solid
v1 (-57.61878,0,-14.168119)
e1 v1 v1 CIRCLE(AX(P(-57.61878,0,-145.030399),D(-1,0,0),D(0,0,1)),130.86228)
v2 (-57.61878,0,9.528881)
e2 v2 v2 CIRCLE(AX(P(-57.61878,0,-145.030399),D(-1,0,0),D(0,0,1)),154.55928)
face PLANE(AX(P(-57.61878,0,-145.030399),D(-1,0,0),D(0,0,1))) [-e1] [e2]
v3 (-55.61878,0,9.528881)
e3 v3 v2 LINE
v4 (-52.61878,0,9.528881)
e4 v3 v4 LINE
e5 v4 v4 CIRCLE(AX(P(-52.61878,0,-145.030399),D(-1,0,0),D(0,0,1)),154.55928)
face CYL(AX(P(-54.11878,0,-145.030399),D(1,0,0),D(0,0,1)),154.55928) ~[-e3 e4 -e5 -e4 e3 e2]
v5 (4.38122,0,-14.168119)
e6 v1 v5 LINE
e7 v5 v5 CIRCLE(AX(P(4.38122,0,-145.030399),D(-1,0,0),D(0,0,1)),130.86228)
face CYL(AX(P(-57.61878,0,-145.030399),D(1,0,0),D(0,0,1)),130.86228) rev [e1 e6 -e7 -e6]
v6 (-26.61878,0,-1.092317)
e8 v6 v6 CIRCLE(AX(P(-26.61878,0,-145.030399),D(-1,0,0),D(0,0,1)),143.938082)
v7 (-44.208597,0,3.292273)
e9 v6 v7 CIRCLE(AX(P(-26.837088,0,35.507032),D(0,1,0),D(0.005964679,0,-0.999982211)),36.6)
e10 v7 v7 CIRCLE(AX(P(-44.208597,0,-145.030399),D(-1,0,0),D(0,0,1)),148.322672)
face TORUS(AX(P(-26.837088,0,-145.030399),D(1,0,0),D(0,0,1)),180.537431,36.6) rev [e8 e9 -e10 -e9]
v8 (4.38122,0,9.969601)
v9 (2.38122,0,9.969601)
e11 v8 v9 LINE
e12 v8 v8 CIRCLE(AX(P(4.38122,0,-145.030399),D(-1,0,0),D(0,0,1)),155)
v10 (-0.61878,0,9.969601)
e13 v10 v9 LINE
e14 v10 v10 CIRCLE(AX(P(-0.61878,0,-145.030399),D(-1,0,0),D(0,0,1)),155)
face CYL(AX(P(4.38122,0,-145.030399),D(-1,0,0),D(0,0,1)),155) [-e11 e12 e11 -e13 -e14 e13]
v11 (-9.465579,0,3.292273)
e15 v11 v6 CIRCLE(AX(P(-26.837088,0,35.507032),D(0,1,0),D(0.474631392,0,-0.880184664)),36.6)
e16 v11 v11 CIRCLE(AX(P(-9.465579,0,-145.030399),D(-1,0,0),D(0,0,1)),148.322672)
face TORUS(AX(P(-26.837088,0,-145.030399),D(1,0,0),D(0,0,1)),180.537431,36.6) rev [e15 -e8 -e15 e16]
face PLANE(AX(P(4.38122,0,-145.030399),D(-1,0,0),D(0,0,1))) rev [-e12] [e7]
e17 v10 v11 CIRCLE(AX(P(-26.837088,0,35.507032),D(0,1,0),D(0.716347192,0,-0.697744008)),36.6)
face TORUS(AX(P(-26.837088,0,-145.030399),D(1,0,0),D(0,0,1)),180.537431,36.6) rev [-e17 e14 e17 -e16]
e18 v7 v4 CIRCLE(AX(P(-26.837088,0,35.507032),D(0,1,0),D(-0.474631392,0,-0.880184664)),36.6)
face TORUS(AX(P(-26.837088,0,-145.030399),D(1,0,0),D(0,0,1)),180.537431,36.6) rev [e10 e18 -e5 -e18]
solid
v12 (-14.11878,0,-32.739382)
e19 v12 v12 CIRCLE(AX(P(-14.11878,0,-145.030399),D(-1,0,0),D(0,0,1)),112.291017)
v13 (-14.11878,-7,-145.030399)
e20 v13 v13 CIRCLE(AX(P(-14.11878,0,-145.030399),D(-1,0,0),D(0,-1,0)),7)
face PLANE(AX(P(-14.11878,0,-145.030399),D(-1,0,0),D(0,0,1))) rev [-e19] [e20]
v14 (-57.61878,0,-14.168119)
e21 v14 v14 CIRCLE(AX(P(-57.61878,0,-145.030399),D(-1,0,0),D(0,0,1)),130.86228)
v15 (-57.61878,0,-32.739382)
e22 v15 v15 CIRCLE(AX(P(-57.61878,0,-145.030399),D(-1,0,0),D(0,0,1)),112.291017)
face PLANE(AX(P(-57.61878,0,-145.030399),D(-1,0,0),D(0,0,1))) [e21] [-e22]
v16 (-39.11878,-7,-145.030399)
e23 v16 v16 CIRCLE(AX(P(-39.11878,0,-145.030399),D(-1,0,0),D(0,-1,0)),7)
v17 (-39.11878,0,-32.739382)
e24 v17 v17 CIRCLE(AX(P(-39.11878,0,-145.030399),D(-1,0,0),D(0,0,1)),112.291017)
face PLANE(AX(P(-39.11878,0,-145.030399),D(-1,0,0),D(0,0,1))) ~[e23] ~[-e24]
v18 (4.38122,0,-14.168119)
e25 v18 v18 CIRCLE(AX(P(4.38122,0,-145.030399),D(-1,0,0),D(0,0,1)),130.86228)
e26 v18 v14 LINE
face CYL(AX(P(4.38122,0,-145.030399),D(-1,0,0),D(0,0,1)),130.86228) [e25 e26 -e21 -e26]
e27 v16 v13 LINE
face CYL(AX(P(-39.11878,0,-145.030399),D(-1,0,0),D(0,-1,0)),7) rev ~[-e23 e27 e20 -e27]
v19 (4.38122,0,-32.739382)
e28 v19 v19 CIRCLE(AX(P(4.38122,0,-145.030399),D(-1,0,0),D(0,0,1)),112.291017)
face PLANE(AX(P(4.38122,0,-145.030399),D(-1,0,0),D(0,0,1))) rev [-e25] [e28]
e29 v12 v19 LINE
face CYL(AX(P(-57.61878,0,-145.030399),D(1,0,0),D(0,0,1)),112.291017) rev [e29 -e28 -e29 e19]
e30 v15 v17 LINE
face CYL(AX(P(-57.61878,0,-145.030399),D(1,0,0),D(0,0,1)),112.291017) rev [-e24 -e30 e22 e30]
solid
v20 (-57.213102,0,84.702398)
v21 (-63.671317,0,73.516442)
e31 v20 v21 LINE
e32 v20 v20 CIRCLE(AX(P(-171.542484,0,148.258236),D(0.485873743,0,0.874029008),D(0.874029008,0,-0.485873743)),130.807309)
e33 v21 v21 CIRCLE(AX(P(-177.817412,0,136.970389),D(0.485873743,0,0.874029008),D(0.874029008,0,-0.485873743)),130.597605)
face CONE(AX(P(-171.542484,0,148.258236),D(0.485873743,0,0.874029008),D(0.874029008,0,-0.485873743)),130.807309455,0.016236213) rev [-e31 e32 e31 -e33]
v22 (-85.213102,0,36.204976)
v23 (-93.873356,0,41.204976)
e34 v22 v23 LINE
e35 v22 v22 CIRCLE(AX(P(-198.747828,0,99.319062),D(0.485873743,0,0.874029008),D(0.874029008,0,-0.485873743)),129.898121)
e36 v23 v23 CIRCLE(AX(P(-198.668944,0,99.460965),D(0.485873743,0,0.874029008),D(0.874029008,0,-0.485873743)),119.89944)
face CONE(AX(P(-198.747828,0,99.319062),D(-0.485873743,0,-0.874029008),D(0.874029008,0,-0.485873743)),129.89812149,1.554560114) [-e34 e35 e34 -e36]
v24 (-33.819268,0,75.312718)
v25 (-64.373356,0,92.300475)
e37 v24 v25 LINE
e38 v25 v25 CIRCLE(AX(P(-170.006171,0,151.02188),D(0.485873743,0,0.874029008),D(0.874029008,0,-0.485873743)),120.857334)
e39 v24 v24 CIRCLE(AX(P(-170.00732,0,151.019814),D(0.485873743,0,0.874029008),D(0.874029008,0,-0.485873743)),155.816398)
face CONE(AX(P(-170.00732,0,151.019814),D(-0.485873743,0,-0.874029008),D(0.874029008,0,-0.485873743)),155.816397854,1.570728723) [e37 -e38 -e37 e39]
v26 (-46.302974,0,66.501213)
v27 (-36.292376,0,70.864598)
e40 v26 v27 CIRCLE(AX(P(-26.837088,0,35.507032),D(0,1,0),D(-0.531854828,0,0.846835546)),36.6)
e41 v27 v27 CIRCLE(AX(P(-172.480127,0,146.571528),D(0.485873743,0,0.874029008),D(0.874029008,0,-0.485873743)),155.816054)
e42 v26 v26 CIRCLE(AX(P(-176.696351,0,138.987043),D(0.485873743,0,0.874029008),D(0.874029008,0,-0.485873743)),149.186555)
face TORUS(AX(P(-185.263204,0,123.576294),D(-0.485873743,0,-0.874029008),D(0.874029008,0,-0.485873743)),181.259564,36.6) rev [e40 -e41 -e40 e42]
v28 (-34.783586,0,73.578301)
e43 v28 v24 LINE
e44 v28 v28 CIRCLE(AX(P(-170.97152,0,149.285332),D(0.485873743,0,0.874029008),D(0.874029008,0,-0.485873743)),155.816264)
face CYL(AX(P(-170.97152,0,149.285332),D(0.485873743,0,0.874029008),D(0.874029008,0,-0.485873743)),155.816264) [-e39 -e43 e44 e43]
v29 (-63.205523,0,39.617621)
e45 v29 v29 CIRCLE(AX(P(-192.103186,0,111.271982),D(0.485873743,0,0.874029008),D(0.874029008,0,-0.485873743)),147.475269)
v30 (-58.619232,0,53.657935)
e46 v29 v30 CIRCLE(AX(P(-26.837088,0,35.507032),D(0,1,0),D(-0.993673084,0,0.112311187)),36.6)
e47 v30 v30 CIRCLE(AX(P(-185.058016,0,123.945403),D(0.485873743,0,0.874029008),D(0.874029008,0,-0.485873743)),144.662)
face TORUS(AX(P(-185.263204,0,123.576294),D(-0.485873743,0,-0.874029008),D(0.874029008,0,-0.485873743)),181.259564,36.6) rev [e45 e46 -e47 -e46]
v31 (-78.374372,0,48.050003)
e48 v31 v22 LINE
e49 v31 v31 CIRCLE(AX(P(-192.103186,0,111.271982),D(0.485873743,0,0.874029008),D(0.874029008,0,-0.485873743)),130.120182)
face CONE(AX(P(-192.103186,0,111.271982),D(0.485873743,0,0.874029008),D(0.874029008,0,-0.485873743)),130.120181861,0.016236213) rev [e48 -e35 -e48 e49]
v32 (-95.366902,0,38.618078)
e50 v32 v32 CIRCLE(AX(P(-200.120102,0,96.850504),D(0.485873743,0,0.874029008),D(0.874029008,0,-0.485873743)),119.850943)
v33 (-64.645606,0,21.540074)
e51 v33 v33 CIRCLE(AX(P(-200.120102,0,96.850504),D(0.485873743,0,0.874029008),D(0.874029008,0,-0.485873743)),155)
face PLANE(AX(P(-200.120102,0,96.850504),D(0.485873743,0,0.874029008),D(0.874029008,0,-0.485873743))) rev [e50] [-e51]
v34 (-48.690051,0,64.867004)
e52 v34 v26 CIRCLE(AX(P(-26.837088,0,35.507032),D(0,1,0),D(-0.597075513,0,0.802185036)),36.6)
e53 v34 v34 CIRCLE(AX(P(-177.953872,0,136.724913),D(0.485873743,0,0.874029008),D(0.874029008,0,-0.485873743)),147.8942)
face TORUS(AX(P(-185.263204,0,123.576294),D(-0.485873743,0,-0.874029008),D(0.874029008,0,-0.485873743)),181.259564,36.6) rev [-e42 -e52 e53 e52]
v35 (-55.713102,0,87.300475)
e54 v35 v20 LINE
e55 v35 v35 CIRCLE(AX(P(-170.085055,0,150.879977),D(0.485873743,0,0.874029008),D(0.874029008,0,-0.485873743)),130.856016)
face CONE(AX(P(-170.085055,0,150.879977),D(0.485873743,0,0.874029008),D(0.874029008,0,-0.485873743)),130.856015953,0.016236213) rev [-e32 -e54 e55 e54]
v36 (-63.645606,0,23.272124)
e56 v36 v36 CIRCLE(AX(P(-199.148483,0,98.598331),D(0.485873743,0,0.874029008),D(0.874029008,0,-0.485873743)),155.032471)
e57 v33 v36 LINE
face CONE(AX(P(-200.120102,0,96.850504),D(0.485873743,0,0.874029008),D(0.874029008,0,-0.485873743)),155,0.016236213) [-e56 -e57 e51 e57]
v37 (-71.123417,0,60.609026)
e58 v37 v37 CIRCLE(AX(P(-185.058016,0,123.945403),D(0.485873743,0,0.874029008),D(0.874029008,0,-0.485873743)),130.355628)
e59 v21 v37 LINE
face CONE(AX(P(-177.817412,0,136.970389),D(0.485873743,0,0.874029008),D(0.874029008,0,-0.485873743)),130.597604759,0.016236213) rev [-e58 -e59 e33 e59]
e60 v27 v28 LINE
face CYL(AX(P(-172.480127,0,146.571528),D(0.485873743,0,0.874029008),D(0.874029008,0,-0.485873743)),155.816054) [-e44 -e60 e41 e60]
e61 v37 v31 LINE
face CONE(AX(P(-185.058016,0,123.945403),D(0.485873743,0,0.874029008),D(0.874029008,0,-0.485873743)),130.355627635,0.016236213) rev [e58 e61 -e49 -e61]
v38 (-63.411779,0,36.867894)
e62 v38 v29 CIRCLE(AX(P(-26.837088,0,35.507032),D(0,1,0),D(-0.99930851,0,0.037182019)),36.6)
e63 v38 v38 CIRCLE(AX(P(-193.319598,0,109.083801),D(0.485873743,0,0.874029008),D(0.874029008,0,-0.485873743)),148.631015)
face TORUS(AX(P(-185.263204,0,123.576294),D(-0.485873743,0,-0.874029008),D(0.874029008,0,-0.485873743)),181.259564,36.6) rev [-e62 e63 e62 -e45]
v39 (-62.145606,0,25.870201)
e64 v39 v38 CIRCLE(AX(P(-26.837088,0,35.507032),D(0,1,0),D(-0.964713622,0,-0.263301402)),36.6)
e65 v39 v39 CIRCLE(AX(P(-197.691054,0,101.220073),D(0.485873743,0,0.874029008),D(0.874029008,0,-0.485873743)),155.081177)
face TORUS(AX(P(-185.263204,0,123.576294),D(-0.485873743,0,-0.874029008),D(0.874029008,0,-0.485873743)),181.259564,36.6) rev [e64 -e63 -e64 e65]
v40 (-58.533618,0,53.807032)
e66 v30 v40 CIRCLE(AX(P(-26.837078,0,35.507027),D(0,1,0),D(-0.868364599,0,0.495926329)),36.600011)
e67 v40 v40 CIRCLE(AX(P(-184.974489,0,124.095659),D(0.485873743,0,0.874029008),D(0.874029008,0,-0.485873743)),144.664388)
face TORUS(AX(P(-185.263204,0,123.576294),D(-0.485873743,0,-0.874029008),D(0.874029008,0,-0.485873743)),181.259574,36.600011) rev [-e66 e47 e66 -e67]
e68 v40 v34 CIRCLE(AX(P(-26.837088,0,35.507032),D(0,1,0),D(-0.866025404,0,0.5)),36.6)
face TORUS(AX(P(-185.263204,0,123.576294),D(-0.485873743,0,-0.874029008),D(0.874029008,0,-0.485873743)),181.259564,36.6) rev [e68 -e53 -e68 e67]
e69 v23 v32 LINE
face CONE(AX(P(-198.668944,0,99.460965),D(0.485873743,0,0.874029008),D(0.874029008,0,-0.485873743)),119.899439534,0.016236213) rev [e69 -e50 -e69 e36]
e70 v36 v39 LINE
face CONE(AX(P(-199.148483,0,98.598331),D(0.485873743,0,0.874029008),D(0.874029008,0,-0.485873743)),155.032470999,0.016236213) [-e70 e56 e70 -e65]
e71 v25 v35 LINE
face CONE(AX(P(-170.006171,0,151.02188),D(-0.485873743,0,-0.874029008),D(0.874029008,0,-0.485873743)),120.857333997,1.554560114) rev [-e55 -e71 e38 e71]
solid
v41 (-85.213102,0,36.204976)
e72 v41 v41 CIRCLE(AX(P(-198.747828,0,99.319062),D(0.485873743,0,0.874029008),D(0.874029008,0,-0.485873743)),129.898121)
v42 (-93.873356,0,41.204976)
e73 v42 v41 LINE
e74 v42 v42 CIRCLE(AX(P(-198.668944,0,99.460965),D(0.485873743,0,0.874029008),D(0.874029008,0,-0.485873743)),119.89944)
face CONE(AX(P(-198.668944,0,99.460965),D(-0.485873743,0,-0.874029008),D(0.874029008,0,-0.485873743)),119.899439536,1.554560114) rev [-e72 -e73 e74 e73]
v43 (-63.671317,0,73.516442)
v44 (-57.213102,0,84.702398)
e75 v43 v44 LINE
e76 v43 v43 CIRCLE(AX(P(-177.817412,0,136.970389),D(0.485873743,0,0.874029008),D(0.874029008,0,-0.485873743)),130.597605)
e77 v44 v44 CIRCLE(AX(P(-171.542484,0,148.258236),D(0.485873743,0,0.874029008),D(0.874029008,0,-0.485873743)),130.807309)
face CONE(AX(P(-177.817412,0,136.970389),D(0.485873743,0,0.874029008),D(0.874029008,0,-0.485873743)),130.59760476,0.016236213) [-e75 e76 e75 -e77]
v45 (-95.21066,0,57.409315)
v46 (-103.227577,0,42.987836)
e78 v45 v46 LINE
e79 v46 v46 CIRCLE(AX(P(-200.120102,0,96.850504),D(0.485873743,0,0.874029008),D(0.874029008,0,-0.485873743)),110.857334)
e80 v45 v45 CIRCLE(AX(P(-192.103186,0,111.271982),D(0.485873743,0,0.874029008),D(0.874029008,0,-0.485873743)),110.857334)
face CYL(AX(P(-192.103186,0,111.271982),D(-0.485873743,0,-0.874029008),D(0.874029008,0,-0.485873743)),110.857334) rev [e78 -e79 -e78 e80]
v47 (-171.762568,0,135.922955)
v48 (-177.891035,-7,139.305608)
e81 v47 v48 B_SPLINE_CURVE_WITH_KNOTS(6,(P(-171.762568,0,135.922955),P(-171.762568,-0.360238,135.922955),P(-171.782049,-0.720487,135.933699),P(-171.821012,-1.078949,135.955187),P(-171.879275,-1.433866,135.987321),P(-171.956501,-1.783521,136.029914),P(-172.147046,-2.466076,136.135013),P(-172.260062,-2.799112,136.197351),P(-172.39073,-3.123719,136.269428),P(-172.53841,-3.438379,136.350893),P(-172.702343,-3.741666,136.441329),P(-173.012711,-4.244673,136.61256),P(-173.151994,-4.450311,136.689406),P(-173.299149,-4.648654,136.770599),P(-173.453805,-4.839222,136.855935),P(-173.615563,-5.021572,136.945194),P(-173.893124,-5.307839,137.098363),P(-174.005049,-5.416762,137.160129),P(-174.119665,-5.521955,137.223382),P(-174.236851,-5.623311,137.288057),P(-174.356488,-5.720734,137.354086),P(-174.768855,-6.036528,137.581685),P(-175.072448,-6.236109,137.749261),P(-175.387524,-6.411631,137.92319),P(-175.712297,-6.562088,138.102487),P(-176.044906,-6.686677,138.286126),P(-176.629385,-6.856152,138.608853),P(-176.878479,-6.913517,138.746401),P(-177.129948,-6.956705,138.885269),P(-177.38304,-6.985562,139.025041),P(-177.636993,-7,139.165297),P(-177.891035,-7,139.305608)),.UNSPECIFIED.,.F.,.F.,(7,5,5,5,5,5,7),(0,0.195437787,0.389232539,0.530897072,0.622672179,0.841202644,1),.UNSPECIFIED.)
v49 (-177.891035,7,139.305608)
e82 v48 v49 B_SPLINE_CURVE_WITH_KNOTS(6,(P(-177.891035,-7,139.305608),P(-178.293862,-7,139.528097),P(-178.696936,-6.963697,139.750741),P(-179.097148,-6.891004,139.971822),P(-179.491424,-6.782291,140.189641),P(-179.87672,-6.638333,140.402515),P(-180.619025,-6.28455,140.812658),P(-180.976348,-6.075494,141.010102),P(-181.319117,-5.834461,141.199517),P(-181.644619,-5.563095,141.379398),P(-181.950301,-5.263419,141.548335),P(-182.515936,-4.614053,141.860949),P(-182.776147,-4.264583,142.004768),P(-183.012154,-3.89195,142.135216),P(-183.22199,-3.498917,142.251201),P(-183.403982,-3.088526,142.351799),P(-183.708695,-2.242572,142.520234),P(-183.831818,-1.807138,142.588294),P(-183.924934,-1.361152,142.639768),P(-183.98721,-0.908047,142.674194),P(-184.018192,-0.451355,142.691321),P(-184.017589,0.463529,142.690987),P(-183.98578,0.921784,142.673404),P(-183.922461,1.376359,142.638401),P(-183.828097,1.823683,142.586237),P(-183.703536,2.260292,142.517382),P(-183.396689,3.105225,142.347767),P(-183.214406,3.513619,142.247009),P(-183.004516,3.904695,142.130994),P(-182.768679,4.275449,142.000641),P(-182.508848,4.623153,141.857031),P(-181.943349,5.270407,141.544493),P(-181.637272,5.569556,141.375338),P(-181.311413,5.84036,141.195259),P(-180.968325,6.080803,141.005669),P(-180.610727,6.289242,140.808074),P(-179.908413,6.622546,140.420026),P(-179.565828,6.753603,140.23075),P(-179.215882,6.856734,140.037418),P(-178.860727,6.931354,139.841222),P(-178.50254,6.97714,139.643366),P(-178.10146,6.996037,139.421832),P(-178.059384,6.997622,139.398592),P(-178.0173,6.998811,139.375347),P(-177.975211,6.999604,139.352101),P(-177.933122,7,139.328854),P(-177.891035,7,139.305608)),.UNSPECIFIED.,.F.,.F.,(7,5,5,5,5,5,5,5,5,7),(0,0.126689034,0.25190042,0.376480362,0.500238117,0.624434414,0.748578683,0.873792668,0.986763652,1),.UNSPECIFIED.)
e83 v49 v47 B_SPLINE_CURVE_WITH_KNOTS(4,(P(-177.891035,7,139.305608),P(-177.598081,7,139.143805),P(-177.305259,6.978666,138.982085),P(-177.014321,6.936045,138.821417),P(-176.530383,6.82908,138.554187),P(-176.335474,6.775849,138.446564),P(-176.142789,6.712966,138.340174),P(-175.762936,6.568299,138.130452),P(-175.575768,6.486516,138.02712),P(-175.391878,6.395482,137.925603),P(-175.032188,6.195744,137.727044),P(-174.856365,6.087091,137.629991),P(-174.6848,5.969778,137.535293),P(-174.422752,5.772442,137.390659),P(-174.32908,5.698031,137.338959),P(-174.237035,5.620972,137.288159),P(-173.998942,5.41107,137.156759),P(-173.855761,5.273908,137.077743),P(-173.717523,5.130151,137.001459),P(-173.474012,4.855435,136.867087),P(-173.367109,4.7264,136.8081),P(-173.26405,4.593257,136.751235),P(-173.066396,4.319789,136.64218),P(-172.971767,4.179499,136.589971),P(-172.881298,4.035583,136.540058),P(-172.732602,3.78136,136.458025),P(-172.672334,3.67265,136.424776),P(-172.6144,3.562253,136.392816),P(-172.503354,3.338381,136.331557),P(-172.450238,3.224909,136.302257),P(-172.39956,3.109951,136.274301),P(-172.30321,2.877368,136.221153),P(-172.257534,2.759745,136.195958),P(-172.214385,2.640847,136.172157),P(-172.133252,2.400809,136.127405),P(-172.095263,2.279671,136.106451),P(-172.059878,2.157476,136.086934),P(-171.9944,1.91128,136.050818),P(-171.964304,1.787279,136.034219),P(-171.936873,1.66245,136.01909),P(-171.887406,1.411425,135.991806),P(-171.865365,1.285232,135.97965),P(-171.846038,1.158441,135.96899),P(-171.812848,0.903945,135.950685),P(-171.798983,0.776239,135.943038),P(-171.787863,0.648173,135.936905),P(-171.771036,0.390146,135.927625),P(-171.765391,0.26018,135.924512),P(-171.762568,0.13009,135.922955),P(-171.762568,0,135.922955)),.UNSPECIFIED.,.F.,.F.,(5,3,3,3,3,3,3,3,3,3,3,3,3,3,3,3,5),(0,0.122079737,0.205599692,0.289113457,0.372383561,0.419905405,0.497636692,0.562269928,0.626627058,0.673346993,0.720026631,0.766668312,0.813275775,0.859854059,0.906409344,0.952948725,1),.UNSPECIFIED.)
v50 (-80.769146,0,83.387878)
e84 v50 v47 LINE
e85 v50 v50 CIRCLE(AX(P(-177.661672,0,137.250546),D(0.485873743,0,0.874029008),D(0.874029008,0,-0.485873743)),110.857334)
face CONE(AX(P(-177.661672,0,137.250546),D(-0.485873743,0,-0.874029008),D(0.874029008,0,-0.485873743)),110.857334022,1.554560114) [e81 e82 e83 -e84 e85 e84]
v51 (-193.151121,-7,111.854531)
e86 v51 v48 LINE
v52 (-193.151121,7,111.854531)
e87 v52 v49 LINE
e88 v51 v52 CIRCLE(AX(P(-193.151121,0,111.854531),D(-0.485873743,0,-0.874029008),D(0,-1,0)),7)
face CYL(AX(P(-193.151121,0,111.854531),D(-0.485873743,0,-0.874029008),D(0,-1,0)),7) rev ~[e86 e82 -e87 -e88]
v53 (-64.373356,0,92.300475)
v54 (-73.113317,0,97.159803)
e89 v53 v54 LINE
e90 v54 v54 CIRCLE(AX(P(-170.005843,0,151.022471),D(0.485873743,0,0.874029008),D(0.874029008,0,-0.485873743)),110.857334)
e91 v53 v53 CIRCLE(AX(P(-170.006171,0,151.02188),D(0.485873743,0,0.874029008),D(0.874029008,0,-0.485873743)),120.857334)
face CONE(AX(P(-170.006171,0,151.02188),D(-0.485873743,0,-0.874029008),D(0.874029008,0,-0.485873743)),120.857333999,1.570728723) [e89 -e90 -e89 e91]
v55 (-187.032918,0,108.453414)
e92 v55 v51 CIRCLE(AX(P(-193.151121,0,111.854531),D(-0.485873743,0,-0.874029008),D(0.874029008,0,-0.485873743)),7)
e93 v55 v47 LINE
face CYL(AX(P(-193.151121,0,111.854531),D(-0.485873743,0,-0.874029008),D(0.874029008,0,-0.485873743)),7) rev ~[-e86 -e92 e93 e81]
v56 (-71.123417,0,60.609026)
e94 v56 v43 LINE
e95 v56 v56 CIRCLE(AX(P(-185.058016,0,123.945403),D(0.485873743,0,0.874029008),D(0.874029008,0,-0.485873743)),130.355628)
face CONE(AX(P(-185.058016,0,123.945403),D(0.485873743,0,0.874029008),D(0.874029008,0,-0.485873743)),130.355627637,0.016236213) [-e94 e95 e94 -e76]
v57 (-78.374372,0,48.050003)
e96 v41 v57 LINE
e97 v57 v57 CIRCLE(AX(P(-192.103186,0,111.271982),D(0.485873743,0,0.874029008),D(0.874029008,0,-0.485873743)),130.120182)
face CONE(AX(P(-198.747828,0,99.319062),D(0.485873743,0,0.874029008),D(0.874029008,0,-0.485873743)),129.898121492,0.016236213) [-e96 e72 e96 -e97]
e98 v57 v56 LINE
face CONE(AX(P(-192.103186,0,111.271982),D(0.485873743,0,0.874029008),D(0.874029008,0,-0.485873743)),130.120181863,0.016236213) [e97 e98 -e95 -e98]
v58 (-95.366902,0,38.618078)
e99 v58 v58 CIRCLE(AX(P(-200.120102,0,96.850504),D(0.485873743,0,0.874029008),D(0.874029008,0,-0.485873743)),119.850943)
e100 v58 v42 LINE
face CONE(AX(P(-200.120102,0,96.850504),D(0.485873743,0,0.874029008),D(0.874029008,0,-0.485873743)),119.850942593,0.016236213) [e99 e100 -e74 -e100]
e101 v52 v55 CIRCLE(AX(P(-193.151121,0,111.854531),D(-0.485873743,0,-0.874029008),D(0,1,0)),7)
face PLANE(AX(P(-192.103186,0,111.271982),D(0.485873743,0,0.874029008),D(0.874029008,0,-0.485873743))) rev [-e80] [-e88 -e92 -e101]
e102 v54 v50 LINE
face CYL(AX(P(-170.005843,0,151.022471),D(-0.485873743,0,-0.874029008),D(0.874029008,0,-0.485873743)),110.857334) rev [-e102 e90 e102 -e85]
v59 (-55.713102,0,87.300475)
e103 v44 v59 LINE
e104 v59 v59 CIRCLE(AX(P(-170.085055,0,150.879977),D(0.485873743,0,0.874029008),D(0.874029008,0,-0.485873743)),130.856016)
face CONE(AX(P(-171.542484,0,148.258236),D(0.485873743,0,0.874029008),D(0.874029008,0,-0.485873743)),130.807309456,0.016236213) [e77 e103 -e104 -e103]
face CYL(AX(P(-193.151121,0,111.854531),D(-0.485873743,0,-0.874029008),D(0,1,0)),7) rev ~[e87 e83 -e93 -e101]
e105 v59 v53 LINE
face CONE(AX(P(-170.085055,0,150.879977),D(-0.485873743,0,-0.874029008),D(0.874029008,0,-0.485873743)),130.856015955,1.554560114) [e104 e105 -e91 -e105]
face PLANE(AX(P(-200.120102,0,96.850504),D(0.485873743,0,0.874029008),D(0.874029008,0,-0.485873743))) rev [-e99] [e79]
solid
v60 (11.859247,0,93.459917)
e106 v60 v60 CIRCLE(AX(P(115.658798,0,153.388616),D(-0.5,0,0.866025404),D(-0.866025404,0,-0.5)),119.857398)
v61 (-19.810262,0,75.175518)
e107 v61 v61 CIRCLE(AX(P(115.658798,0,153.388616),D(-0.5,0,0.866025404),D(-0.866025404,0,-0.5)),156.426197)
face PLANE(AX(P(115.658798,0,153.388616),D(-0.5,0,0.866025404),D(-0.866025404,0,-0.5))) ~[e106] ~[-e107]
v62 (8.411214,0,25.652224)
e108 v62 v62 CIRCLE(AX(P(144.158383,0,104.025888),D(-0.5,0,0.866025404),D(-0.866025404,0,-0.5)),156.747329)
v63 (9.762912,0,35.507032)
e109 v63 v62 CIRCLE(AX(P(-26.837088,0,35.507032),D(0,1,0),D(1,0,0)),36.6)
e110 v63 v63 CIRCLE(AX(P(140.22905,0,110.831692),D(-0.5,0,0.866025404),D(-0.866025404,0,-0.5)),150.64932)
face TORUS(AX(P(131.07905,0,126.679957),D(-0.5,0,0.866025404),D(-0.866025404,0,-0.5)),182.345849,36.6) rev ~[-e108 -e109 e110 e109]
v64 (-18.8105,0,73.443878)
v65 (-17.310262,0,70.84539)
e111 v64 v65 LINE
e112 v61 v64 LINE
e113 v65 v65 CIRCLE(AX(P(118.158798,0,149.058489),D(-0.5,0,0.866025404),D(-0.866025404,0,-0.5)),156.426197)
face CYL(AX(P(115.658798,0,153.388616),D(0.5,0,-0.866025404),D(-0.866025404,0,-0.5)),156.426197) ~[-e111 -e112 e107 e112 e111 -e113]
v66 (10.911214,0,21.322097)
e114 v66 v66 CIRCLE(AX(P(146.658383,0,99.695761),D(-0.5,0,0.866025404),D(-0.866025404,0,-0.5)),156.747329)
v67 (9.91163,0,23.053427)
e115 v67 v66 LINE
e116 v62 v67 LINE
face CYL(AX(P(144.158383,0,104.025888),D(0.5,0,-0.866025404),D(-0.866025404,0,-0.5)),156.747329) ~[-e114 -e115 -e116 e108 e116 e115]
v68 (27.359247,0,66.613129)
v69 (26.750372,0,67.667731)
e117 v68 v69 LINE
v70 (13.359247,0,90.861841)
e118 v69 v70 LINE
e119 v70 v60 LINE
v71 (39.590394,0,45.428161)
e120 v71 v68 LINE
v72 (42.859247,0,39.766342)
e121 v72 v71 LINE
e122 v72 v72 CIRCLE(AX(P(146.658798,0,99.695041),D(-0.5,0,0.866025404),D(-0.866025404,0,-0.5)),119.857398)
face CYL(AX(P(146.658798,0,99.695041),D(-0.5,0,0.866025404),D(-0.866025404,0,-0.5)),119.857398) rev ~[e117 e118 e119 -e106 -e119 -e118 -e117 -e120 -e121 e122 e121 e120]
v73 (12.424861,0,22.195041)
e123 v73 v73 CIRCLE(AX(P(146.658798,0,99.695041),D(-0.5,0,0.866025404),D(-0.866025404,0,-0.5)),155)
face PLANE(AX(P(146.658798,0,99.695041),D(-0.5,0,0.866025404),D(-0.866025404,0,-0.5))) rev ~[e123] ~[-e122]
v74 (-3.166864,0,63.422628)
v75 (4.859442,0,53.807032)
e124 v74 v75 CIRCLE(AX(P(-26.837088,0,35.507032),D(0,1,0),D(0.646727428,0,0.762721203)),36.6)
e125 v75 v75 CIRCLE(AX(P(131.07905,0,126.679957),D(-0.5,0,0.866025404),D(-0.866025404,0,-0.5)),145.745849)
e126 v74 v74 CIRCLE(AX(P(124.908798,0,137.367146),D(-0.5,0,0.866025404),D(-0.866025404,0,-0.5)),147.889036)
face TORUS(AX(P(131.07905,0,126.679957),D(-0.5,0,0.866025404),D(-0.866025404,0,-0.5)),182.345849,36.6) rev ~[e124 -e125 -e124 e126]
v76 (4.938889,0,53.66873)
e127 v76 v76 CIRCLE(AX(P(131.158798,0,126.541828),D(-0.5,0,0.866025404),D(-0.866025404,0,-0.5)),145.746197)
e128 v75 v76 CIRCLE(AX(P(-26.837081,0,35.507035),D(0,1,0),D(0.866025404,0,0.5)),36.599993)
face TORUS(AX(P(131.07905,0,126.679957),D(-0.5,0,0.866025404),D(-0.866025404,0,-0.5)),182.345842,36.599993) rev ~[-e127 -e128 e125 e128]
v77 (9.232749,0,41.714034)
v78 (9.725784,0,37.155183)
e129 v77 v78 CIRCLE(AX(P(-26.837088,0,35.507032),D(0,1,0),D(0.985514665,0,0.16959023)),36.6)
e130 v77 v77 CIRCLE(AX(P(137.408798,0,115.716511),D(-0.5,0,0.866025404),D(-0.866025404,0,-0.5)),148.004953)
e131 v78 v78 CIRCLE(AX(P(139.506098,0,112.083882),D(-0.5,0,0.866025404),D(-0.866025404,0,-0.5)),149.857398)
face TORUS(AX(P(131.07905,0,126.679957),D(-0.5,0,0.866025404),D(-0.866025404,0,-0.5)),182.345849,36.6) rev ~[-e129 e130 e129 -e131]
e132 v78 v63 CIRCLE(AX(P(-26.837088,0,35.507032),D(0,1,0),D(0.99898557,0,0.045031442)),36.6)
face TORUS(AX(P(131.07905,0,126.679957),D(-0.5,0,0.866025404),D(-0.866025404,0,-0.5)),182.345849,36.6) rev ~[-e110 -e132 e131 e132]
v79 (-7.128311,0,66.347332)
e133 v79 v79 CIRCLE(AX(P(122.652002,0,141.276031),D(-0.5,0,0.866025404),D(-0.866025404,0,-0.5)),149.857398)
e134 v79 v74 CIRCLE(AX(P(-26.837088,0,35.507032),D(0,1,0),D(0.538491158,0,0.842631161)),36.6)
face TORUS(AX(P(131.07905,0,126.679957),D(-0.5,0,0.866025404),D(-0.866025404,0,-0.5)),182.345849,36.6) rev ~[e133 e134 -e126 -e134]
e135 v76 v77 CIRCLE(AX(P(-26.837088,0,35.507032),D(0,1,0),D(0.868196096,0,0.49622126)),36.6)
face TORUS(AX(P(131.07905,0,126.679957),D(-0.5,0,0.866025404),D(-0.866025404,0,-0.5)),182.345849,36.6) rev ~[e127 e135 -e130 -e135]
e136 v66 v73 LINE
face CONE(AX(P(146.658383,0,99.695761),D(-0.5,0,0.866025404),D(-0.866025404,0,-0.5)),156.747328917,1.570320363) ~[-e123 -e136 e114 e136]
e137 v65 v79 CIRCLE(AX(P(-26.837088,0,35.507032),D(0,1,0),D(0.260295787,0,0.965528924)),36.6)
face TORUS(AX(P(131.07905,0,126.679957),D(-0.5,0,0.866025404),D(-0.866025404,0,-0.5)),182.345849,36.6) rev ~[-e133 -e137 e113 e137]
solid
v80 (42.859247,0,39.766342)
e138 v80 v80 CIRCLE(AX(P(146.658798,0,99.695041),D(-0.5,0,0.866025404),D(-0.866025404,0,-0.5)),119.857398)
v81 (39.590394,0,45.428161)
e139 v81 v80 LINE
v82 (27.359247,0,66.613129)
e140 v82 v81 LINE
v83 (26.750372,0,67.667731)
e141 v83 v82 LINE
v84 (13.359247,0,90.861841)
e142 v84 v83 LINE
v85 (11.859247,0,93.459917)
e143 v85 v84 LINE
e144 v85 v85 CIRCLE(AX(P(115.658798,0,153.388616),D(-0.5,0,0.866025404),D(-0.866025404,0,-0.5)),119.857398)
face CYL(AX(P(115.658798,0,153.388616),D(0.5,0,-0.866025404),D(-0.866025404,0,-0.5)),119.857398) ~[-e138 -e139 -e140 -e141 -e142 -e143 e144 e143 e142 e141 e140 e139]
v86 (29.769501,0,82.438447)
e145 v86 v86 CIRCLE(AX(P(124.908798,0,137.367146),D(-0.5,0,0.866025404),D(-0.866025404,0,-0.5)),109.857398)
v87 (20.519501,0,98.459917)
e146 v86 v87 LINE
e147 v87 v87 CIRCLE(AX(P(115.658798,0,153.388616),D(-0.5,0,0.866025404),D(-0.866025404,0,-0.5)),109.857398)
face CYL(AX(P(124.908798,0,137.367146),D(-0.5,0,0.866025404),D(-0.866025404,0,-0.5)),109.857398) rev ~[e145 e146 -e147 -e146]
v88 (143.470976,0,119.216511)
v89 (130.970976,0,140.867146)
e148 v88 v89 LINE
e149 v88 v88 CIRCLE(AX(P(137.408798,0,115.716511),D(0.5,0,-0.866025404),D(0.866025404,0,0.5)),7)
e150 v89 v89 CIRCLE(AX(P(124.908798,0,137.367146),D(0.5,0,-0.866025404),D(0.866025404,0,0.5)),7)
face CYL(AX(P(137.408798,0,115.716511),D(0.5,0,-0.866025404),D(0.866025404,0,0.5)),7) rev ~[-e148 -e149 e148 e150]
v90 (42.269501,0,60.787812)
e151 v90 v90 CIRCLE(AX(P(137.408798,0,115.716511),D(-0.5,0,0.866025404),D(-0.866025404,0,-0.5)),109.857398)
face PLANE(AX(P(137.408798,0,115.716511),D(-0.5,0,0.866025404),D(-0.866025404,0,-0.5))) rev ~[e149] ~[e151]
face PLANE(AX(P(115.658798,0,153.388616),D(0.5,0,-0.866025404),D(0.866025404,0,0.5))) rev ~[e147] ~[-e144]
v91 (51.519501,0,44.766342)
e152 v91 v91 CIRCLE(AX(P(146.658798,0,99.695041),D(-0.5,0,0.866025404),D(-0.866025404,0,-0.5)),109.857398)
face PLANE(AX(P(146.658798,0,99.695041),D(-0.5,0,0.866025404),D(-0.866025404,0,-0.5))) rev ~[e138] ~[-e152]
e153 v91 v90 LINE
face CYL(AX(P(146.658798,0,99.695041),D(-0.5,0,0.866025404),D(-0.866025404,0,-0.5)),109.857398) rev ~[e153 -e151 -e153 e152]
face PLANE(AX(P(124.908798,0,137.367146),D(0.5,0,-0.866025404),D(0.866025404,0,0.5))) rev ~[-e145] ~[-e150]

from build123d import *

# Parameters (mm, degrees)
F0_W      = 3
F0_H      = 10
F0_W_2    = 28
F0_W_3    = 12.5
F0_H_2    = 112.2910165736
F0_H_3    = 6.6773280071
F0_H_4    = 6.2366079051
F7_R      = 7
F8_DEPTH  = 336.8622286717
F9_R      = 7
F10_DEPTH = 321.5253318733
F12_DEPTH = 335.7240124297


with BuildPart() as f1:
    # F0 (on Front) → F1 (revolve)
    with BuildSketch(Plane.XZ):
        Polygon((-103.2275768151, 42.9878358827), (-95.3669020442, 38.6180776259), (-93.873355638, 41.2049758849), (-87.1158145145, 52.909380445), (-95.2106600579, 57.4093145069), align=None)
        Polygon((-85.2131016002, 36.2049758849), (-78.3743722786, 48.050002529), (-87.1158145145, 52.909380445), (-93.873355638, 41.2049758849), align=None)
        Polygon((-78.3743722786, 48.050002529), (-71.1234165707, 60.6090262185), (-79.8648588066, 65.4684041346), (-87.1158145145, 52.909380445), align=None)
        Polygon((-87.1158145145, 52.909380445), (-79.8648588066, 65.4684041346), (-88.1654907864, 70.082735116), (-95.2106600579, 57.4093145069), align=None)
        Polygon((-88.1654907864, 70.082735116), (-79.8648588066, 65.4684041346), (-72.3315707937, 78.5164417209), (-80.7691462619, 83.3878781888), align=None)
        Polygon((-79.8648588066, 65.4684041346), (-71.1234165707, 60.6090262185), (-63.6713167559, 73.5164417209), (-72.3315707937, 78.5164417209), align=None)
        Polygon((-57.2131016002, 84.7023984968), (-65.873355638, 89.7023984968), (-72.3315707937, 78.5164417209), (-63.6713167559, 73.5164417209), align=None)
        Polygon((-65.873355638, 89.7023984968), (-64.373355638, 92.3004747082), (-73.1133172244, 97.159803002), (-80.7691462619, 83.3878781888), (-72.3315707937, 78.5164417209), align=None)
        Polygon((-55.7131016002, 87.3004747082), (-64.373355638, 92.3004747082), (-65.873355638, 89.7023984968), (-57.2131016002, 84.7023984968), align=None)
        Polygon((-95.2106600579, 57.4093145069), (-88.1654907864, 70.082735116), (-185.0580164192, 123.9454029211), (-185.0611519935, 123.9397623963), (-192.1031856907, 111.271982312), align=None)
        Polygon((-88.1654907864, 70.082735116), (-80.7691462619, 83.3878781888), (-176.7870693066, 138.8238519057), (-185.0580164192, 123.9454029211), align=None)
    revolve(axis=Axis((-180.9241106501, 0, 131.381807151), (0.4858737429, 0, 0.8740290075)))

    # F11 (on face) → F12 (cut, through all)
    with BuildSketch(Plane(origin=(1.9031900044, 0, 3.4236121938), x_dir=(0.8740290075, 0, -0.4858737429), z_dir=(-0.4858737429, 0, -0.8740290075))):
        with BuildLine():
            ThreePointArc((-216.166861741, 0), (-218.2171142727, 4.9497474683), (-223.166861741, 7))
            Line((-223.166861741, 7), (-223.166861741, -7))
            ThreePointArc((-223.166861741, -7), (-218.2171142727, -4.9497474683), (-216.166861741, 0))
        make_face()
        with BuildLine():
            Line((-223.166861741, -7), (-223.166861741, 7))
            ThreePointArc((-223.166861741, 7), (-230.166861741, 0), (-223.166861741, -7))
        make_face()
    extrude(amount=-F12_DEPTH, mode=Mode.SUBTRACT)


with BuildPart() as f2:
    # F0 (on Front) → F2 (revolve)
    with BuildSketch(Plane.XZ):
        with BuildLine():
            Line((-34.7835859764, 73.5783008447), (-33.8192680471, 75.3127178565))
            Line((-33.8192680471, 75.3127178565), (-64.373355638, 92.3004747082))
            Line((-64.373355638, 92.3004747082), (-55.7131016002, 87.3004747082))
            Line((-55.7131016002, 87.3004747082), (-57.2131016002, 84.7023984968))
            Line((-57.2131016002, 84.7023984968), (-63.6713167559, 73.5164417209))
            Line((-63.6713167559, 73.5164417209), (-48.6900514954, 64.86700419))
            ThreePointArc((-48.6900514954, 64.86700419), (-47.5126653644, 65.7077022177), (-46.3029744339, 66.5012128529))
            Line((-46.3029744339, 66.5012128529), (-41.9109235462, 74.1084681399))
            Line((-41.9109235462, 74.1084681399), (-40.4109235462, 76.7065443513))
            Line((-40.4109235462, 76.7065443513), (-34.7835859764, 73.5783008447))
        make_face()
        with BuildLine():
            ThreePointArc((-58.6192320535, 53.6579354876), (-58.5765123283, 53.732533951), (-58.5336175074, 53.8070318703))
            ThreePointArc((-58.5336175074, 53.8070318703), (-54.1769452936, 59.8399763764), (-48.6900514954, 64.86700419))
            Line((-48.6900514954, 64.86700419), (-63.6713167559, 73.5164417209))
            Line((-63.6713167559, 73.5164417209), (-71.1234165707, 60.6090262185))
            Line((-71.1234165707, 60.6090262185), (-58.6192320535, 53.6579354876))
        make_face()
        with BuildLine():
            ThreePointArc((-63.2055225909, 39.6176213275), (-61.6280055997, 46.8715395015), (-58.6192320535, 53.6579354876))
            Line((-58.6192320535, 53.6579354876), (-71.1234165707, 60.6090262185))
            Line((-71.1234165707, 60.6090262185), (-78.3743722786, 48.050002529))
            Line((-78.3743722786, 48.050002529), (-63.2055225909, 39.6176213275))
        make_face()
        with BuildLine():
            Line((-67.9109235462, 29.0751471431), (-63.4117791818, 36.8678937728))
            ThreePointArc((-63.4117791818, 36.8678937728), (-63.3345557172, 38.244700667), (-63.2055225909, 39.6176213275))
            Line((-63.2055225909, 39.6176213275), (-78.3743722786, 48.050002529))
            Line((-78.3743722786, 48.050002529), (-85.2131016002, 36.2049758849))
            Line((-85.2131016002, 36.2049758849), (-93.873355638, 41.2049758849))
            Line((-93.873355638, 41.2049758849), (-95.3669020442, 38.6180776259))
            Line((-95.3669020442, 38.6180776259), (-64.6456062812, 21.5400735444))
            Line((-64.6456062812, 21.5400735444), (-63.6456062812, 23.272124352))
            Line((-63.6456062812, 23.272124352), (-69.4109235462, 26.4770709318))
            Line((-69.4109235462, 26.4770709318), (-67.9109235462, 29.0751471431))
        make_face()
        Polygon((-63.6456062812, 23.272124352), (-62.1456062812, 25.8702005633), (-67.9109235462, 29.0751471431), (-69.4109235462, 26.4770709318), align=None)
        with BuildLine():
            ThreePointArc((-62.1456062812, 25.8702005633), (-63.1969046171, 31.3208981111), (-63.4117791818, 36.8678937728))
            Line((-63.4117791818, 36.8678937728), (-67.9109235462, 29.0751471431))
            Line((-67.9109235462, 29.0751471431), (-62.1456062812, 25.8702005633))
        make_face()
        with BuildLine():
            ThreePointArc((-46.3029744339, 66.5012128529), (-41.4613272129, 69.0583600036), (-36.2923764492, 70.864598461))
            Line((-36.2923764492, 70.864598461), (-41.9109235462, 74.1084681399))
            Line((-41.9109235462, 74.1084681399), (-46.3029744339, 66.5012128529))
        make_face()
        Polygon((-41.9109235462, 74.1084681399), (-36.2923764492, 70.864598461), (-34.7835859764, 73.5783008447), (-40.4109235462, 76.7065443513), align=None)
    revolve(axis=Axis((-198.7478278058, 0, 99.3190623639), (0.4858737429, 0, 0.8740290075)))


with BuildPart() as f3:
    # F0 (on Front) → F3 (revolve)
    with BuildSketch(Plane.XZ):
        Polygon((131.1587983931, 126.5418284505), (36.0195008386, 71.6131293969), (42.2695008386, 60.7878118496), (137.4087983931, 115.7165109032), align=None)
        Polygon((124.9087983931, 137.3671459978), (29.7695008386, 82.4384469442), (36.0195008386, 71.6131293969), (131.1587983931, 126.5418284505), align=None)
        Polygon((13.3592468008, 90.8618407029), (21.1092468008, 77.4384469442), (29.7695008386, 82.4384469442), (20.5195008386, 98.4599169142), (11.8592468008, 93.4599169142), align=None)
        Polygon((26.7503723459, 67.6677308882), (27.3592468008, 66.6131293969), (27.7530156023, 66.8404719204), align=None)
        Polygon((21.1092468008, 77.4384469442), (26.7503723459, 67.6677308882), (27.7530156023, 66.8404719204), (36.0195008386, 71.6131293969), (29.7695008386, 82.4384469442), align=None)
        Polygon((36.0195008386, 71.6131293969), (27.7530156023, 66.8404719204), (38.0449900841, 58.3487894283), (42.2695008386, 60.7878118496), align=None)
        Polygon((27.7530156023, 66.8404719204), (27.3592468008, 66.6131293969), (33.6092468008, 55.7878118496), (38.0449900841, 58.3487894283), align=None)
        Polygon((47.8942408099, 50.2223886005), (39.5903942614, 45.4281605603), (42.8592468008, 39.7663418796), (51.5195008386, 44.7663418796), (42.2695008386, 60.7878118496), (38.0449900841, 58.3487894283), align=None)
        Polygon((38.0449900841, 58.3487894283), (33.6092468008, 55.7878118496), (39.5903942614, 45.4281605603), (47.8942408099, 50.2223886005), align=None)
    revolve(axis=Axis((131.1587983931, 0, 126.5418284505), (-0.5, 0, 0.8660254038)))

    # F7 (on face) → F8 (cut, through all)
    with BuildSketch(Plane(origin=(-15.7545194415, 0, 27.2876281214), x_dir=(0.8660254038, 0, 0.5), z_dir=(0.5, 0, -0.8660254038))):
        with Locations((176.8577655635, 0)):
            Circle(F7_R)
    extrude(amount=-F8_DEPTH, mode=Mode.SUBTRACT)


with BuildPart() as f4:
    # F0 (on Front) → F4 (revolve)
    with BuildSketch(Plane.XZ):
        with BuildLine():
            Line((27.3592468008, 66.6131293969), (4.9388893759, 53.6687300023))
            ThreePointArc((4.9388893759, 53.6687300023), (7.6084098129, 47.8790850185), (9.2327489926, 41.7140342781))
            Line((9.2327489926, 41.7140342781), (33.6092468008, 55.7878118496))
            Line((33.6092468008, 55.7878118496), (27.3592468008, 66.6131293969))
        make_face()
        with BuildLine():
            ThreePointArc((-3.1668638697, 63.4226279137), (1.2606750631, 58.9607250995), (4.8594420497, 53.8070318703))
            ThreePointArc((4.8594420497, 53.8070318703), (4.8992410501, 53.7379242137), (4.9388893759, 53.6687300023))
            Line((4.9388893759, 53.6687300023), (27.3592468008, 66.6131293969))
            Line((27.3592468008, 66.6131293969), (26.7503723459, 67.6677308882))
            Line((26.7503723459, 67.6677308882), (17.4610411204, 75.3321544126))
            Line((17.4610411204, 75.3321544126), (-3.1668638697, 63.4226279137))
        make_face()
        with BuildLine():
            ThreePointArc((-7.1283113559, 66.3473323533), (-5.0983460611, 64.9516767264), (-3.1668638697, 63.4226279137))
            Line((-3.1668638697, 63.4226279137), (17.4610411204, 75.3321544126))
            Line((17.4610411204, 75.3321544126), (4.6989927629, 85.8618407029))
            Line((4.6989927629, 85.8618407029), (3.1989927629, 88.4599169142))
            Line((3.1989927629, 88.4599169142), (0.7119074344, 87.0239975303))
            Line((0.7119074344, 87.0239975303), (-19.8102619427, 75.1755175161))
            Line((-19.8102619427, 75.1755175161), (-18.8104995912, 73.4438783277))
            Line((-18.8104995912, 73.4438783277), (-13.1215153128, 76.7278661066))
            Line((-13.1215153127, 76.7278661066), (-11.6215153127, 74.1297898953))
            Line((-11.6215153127, 74.1297898953), (-7.1283113559, 66.3473323533))
        make_face()
        Polygon((4.6989927629, 85.8618407029), (17.4610411204, 75.3321544126), (21.1092468008, 77.4384469442), (13.3592468008, 90.8618407029), align=None)
        Polygon((3.1989927629, 88.4599169142), (4.6989927629, 85.8618407029), (13.3592468008, 90.8618407029), (11.8592468008, 93.4599169142), (9.3721614722, 92.0239975303), align=None)
        Polygon((21.1092468008, 77.4384469442), (17.4610411204, 75.3321544126), (26.7503723459, 67.6677308882), align=None)
        with BuildLine():
            ThreePointArc((-17.3102619427, 70.8453904971), (-12.0472858313, 68.9857080662), (-7.1283113559, 66.3473323533))
            Line((-7.1283113559, 66.3473323533), (-11.6215153127, 74.1297898953))
            Line((-11.6215153127, 74.1297898953), (-17.3102619427, 70.8453904971))
        make_face()
        Polygon((-18.8104995912, 73.4438783277), (-17.3102619427, 70.8453904971), (-11.6215153127, 74.1297898953), (-13.1215153127, 76.7278661066), align=None)
        Polygon((15.8784846873, 26.4983926871), (14.3780688547, 29.0971891415), (8.411213743, 25.6522237365), (9.9116295755, 23.0534272821), align=None)
        with BuildLine():
            Line((14.3780688547, 29.0971891415), (9.7257841362, 37.1551826452))
            ThreePointArc((9.7257841362, 37.1551826452), (9.7536290601, 36.331316329), (9.7629122712, 35.5070318703))
            ThreePointArc((9.7629122712, 35.5070318703), (9.4234130528, 30.5334935859), (8.411213743, 25.6522237365))
            Line((8.411213743, 25.6522237365), (14.3780688547, 29.0971891415))
        make_face()
        with BuildLine():
            Line((33.6092468008, 55.7878118496), (9.2327489926, 41.7140342781))
            ThreePointArc((9.2327489926, 41.7140342781), (9.5507312661, 39.4423372961), (9.7257841362, 37.1551826452))
            Line((9.7257841362, 37.1551826452), (14.3780688547, 29.0971891415))
            Line((14.3780688547, 29.0971891415), (15.8784846873, 26.4983926871))
            Line((15.8784846873, 26.4983926871), (9.9116295755, 23.0534272821))
            Line((9.9116295755, 23.0534272821), (10.911213743, 21.3220967176))
            Line((10.911213743, 21.3220967176), (12.4248608065, 22.1950409332))
            Line((12.4248608065, 22.1950409332), (31.7119074344, 33.3304224956))
            Line((31.7119074344, 33.3304224956), (40.3721614722, 38.3304224956))
            Line((40.3721614722, 38.3304224956), (42.8592468008, 39.7663418796))
            Line((42.8592468008, 39.7663418796), (39.5903942614, 45.4281605603))
            Line((39.5903942614, 45.4281605603), (33.6092468008, 55.7878118496))
        make_face()
    revolve(axis=Axis((131.1587983931, 0, 126.5418284505), (-0.5, 0, 0.8660254038)))


with BuildPart() as f5:
    # F0 (on Front) → F5 (revolve)
    with BuildSketch(Plane.XZ):
        with Locations((2.881219505, -19.1681189128)):
            Rectangle(F0_W, F0_H)
        with Locations((-12.618780495, -19.1681189128)):
            Rectangle(F0_W_2, F0_H)
        Polygon((-26.618780495, -24.1681189128), (-26.618780495, -14.1681189128), (-57.618780495, -14.1681189128), (-57.618780495, -22.7393822372), (-57.618780495, -24.1681189128), align=None)
        Polygon((-26.618780495, -32.7393822372), (-26.618780495, -24.1681189128), (-57.618780495, -24.1681189128), (-57.618780495, -26.7077268179), (-57.618780495, -32.7393822372), (-39.118780495, -32.7393822372), align=None)
        Polygon((4.381219505, -32.7393822372), (4.381219505, -24.1681189128), (1.381219505, -24.1681189128), (-26.618780495, -24.1681189128), (-26.618780495, -32.7393822372), (-14.118780495, -32.7393822372), align=None)
        with Locations((-20.368780495, -88.884890524)):
            Rectangle(F0_W_3, F0_H_2)
        with Locations((-32.868780495, -88.884890524)):
            Rectangle(F0_W_3, F0_H_2)
    revolve(axis=Axis((-26.618780495, 0, -145.0303988108), (-1, 0, 0)))

    # F9 (on face) → F10 (cut, through all)
    with BuildSketch(Plane(origin=(-39.118780495, 0, 0), x_dir=(0, -1, 0), z_dir=(-1, 0, 0))):
        with Locations((0, -145.0303988108)):
            Circle(F9_R)
    extrude(amount=-F10_DEPTH, mode=Mode.SUBTRACT)


with BuildPart() as f6:
    # F0 (on Front) → F6 (revolve)
    with BuildSketch(Plane.XZ):
        with BuildLine():
            Line((-0.618780495, 3.2922731821), (-9.4655787943, 3.2922731821))
            ThreePointArc((-9.4655787943, 3.2922731821), (-17.7730617965, 0.0471470157), (-26.618780495, -1.0923170577))
            Line((-26.618780495, -1.0923170577), (-26.618780495, -14.1681189128))
            Line((-26.618780495, -14.1681189128), (1.381219505, -14.1681189128))
            Line((1.381219505, -14.1681189128), (4.381219505, -14.1681189128))
            Line((4.381219505, -14.1681189128), (4.381219505, 9.9696011892))
            Line((4.381219505, 9.9696011892), (2.381219505, 9.9696011892))
            Line((2.381219505, 9.9696011892), (2.381219505, 3.2922731821))
            Line((2.381219505, 3.2922731821), (-0.618780495, 3.2922731821))
        make_face()
        with Locations((0.881219505, 6.6309371856)):
            Rectangle(F0_W, F0_H_3)
        with BuildLine():
            Line((-0.618780495, 3.2922731821), (-0.618780495, 9.9696011892))
            ThreePointArc((-0.618780495, 9.9696011892), (-4.7879449853, 6.2941014409), (-9.4655787943, 3.2922731821))
            Line((-9.4655787943, 3.2922731821), (-0.618780495, 3.2922731821))
        make_face()
        with BuildLine():
            Line((-52.618780495, 3.2922731821), (-44.2085966634, 3.2922731821))
            ThreePointArc((-44.2085966634, 3.2922731821), (-48.6378566097, 6.1082823016), (-52.618780495, 9.5288810872))
            Line((-52.618780495, 9.5288810872), (-52.618780495, 3.2922731821))
        make_face()
        with Locations((-54.118780495, 6.4105771346)):
            Rectangle(F0_W, F0_H_4)
        with BuildLine():
            Line((-26.618780495, -14.1681189128), (-26.618780495, -1.0923170577))
            ThreePointArc((-26.618780495, -1.0923170577), (-35.689445609, -0.0062861944), (-44.2085966634, 3.2922731821))
            Line((-44.2085966634, 3.2922731821), (-52.618780495, 3.2922731821))
            Line((-52.618780495, 3.2922731821), (-55.618780495, 3.2922731821))
            Line((-55.618780495, 3.2922731821), (-55.618780495, 9.5288810872))
            Line((-55.618780495, 9.5288810872), (-57.618780495, 9.5288810872))
            Line((-57.618780495, 9.5288810872), (-57.618780495, -12.7393822372))
            Line((-57.618780495, -12.7393822372), (-57.618780495, -14.1681189128))
            Line((-57.618780495, -14.1681189128), (-26.618780495, -14.1681189128))
        make_face()
    revolve(axis=Axis((-26.618780495, 0, -145.0303988108), (-1, 0, 0)))


solid = Compound([f1.part, f2.part, f3.part, f4.part, f5.part, f6.part])
